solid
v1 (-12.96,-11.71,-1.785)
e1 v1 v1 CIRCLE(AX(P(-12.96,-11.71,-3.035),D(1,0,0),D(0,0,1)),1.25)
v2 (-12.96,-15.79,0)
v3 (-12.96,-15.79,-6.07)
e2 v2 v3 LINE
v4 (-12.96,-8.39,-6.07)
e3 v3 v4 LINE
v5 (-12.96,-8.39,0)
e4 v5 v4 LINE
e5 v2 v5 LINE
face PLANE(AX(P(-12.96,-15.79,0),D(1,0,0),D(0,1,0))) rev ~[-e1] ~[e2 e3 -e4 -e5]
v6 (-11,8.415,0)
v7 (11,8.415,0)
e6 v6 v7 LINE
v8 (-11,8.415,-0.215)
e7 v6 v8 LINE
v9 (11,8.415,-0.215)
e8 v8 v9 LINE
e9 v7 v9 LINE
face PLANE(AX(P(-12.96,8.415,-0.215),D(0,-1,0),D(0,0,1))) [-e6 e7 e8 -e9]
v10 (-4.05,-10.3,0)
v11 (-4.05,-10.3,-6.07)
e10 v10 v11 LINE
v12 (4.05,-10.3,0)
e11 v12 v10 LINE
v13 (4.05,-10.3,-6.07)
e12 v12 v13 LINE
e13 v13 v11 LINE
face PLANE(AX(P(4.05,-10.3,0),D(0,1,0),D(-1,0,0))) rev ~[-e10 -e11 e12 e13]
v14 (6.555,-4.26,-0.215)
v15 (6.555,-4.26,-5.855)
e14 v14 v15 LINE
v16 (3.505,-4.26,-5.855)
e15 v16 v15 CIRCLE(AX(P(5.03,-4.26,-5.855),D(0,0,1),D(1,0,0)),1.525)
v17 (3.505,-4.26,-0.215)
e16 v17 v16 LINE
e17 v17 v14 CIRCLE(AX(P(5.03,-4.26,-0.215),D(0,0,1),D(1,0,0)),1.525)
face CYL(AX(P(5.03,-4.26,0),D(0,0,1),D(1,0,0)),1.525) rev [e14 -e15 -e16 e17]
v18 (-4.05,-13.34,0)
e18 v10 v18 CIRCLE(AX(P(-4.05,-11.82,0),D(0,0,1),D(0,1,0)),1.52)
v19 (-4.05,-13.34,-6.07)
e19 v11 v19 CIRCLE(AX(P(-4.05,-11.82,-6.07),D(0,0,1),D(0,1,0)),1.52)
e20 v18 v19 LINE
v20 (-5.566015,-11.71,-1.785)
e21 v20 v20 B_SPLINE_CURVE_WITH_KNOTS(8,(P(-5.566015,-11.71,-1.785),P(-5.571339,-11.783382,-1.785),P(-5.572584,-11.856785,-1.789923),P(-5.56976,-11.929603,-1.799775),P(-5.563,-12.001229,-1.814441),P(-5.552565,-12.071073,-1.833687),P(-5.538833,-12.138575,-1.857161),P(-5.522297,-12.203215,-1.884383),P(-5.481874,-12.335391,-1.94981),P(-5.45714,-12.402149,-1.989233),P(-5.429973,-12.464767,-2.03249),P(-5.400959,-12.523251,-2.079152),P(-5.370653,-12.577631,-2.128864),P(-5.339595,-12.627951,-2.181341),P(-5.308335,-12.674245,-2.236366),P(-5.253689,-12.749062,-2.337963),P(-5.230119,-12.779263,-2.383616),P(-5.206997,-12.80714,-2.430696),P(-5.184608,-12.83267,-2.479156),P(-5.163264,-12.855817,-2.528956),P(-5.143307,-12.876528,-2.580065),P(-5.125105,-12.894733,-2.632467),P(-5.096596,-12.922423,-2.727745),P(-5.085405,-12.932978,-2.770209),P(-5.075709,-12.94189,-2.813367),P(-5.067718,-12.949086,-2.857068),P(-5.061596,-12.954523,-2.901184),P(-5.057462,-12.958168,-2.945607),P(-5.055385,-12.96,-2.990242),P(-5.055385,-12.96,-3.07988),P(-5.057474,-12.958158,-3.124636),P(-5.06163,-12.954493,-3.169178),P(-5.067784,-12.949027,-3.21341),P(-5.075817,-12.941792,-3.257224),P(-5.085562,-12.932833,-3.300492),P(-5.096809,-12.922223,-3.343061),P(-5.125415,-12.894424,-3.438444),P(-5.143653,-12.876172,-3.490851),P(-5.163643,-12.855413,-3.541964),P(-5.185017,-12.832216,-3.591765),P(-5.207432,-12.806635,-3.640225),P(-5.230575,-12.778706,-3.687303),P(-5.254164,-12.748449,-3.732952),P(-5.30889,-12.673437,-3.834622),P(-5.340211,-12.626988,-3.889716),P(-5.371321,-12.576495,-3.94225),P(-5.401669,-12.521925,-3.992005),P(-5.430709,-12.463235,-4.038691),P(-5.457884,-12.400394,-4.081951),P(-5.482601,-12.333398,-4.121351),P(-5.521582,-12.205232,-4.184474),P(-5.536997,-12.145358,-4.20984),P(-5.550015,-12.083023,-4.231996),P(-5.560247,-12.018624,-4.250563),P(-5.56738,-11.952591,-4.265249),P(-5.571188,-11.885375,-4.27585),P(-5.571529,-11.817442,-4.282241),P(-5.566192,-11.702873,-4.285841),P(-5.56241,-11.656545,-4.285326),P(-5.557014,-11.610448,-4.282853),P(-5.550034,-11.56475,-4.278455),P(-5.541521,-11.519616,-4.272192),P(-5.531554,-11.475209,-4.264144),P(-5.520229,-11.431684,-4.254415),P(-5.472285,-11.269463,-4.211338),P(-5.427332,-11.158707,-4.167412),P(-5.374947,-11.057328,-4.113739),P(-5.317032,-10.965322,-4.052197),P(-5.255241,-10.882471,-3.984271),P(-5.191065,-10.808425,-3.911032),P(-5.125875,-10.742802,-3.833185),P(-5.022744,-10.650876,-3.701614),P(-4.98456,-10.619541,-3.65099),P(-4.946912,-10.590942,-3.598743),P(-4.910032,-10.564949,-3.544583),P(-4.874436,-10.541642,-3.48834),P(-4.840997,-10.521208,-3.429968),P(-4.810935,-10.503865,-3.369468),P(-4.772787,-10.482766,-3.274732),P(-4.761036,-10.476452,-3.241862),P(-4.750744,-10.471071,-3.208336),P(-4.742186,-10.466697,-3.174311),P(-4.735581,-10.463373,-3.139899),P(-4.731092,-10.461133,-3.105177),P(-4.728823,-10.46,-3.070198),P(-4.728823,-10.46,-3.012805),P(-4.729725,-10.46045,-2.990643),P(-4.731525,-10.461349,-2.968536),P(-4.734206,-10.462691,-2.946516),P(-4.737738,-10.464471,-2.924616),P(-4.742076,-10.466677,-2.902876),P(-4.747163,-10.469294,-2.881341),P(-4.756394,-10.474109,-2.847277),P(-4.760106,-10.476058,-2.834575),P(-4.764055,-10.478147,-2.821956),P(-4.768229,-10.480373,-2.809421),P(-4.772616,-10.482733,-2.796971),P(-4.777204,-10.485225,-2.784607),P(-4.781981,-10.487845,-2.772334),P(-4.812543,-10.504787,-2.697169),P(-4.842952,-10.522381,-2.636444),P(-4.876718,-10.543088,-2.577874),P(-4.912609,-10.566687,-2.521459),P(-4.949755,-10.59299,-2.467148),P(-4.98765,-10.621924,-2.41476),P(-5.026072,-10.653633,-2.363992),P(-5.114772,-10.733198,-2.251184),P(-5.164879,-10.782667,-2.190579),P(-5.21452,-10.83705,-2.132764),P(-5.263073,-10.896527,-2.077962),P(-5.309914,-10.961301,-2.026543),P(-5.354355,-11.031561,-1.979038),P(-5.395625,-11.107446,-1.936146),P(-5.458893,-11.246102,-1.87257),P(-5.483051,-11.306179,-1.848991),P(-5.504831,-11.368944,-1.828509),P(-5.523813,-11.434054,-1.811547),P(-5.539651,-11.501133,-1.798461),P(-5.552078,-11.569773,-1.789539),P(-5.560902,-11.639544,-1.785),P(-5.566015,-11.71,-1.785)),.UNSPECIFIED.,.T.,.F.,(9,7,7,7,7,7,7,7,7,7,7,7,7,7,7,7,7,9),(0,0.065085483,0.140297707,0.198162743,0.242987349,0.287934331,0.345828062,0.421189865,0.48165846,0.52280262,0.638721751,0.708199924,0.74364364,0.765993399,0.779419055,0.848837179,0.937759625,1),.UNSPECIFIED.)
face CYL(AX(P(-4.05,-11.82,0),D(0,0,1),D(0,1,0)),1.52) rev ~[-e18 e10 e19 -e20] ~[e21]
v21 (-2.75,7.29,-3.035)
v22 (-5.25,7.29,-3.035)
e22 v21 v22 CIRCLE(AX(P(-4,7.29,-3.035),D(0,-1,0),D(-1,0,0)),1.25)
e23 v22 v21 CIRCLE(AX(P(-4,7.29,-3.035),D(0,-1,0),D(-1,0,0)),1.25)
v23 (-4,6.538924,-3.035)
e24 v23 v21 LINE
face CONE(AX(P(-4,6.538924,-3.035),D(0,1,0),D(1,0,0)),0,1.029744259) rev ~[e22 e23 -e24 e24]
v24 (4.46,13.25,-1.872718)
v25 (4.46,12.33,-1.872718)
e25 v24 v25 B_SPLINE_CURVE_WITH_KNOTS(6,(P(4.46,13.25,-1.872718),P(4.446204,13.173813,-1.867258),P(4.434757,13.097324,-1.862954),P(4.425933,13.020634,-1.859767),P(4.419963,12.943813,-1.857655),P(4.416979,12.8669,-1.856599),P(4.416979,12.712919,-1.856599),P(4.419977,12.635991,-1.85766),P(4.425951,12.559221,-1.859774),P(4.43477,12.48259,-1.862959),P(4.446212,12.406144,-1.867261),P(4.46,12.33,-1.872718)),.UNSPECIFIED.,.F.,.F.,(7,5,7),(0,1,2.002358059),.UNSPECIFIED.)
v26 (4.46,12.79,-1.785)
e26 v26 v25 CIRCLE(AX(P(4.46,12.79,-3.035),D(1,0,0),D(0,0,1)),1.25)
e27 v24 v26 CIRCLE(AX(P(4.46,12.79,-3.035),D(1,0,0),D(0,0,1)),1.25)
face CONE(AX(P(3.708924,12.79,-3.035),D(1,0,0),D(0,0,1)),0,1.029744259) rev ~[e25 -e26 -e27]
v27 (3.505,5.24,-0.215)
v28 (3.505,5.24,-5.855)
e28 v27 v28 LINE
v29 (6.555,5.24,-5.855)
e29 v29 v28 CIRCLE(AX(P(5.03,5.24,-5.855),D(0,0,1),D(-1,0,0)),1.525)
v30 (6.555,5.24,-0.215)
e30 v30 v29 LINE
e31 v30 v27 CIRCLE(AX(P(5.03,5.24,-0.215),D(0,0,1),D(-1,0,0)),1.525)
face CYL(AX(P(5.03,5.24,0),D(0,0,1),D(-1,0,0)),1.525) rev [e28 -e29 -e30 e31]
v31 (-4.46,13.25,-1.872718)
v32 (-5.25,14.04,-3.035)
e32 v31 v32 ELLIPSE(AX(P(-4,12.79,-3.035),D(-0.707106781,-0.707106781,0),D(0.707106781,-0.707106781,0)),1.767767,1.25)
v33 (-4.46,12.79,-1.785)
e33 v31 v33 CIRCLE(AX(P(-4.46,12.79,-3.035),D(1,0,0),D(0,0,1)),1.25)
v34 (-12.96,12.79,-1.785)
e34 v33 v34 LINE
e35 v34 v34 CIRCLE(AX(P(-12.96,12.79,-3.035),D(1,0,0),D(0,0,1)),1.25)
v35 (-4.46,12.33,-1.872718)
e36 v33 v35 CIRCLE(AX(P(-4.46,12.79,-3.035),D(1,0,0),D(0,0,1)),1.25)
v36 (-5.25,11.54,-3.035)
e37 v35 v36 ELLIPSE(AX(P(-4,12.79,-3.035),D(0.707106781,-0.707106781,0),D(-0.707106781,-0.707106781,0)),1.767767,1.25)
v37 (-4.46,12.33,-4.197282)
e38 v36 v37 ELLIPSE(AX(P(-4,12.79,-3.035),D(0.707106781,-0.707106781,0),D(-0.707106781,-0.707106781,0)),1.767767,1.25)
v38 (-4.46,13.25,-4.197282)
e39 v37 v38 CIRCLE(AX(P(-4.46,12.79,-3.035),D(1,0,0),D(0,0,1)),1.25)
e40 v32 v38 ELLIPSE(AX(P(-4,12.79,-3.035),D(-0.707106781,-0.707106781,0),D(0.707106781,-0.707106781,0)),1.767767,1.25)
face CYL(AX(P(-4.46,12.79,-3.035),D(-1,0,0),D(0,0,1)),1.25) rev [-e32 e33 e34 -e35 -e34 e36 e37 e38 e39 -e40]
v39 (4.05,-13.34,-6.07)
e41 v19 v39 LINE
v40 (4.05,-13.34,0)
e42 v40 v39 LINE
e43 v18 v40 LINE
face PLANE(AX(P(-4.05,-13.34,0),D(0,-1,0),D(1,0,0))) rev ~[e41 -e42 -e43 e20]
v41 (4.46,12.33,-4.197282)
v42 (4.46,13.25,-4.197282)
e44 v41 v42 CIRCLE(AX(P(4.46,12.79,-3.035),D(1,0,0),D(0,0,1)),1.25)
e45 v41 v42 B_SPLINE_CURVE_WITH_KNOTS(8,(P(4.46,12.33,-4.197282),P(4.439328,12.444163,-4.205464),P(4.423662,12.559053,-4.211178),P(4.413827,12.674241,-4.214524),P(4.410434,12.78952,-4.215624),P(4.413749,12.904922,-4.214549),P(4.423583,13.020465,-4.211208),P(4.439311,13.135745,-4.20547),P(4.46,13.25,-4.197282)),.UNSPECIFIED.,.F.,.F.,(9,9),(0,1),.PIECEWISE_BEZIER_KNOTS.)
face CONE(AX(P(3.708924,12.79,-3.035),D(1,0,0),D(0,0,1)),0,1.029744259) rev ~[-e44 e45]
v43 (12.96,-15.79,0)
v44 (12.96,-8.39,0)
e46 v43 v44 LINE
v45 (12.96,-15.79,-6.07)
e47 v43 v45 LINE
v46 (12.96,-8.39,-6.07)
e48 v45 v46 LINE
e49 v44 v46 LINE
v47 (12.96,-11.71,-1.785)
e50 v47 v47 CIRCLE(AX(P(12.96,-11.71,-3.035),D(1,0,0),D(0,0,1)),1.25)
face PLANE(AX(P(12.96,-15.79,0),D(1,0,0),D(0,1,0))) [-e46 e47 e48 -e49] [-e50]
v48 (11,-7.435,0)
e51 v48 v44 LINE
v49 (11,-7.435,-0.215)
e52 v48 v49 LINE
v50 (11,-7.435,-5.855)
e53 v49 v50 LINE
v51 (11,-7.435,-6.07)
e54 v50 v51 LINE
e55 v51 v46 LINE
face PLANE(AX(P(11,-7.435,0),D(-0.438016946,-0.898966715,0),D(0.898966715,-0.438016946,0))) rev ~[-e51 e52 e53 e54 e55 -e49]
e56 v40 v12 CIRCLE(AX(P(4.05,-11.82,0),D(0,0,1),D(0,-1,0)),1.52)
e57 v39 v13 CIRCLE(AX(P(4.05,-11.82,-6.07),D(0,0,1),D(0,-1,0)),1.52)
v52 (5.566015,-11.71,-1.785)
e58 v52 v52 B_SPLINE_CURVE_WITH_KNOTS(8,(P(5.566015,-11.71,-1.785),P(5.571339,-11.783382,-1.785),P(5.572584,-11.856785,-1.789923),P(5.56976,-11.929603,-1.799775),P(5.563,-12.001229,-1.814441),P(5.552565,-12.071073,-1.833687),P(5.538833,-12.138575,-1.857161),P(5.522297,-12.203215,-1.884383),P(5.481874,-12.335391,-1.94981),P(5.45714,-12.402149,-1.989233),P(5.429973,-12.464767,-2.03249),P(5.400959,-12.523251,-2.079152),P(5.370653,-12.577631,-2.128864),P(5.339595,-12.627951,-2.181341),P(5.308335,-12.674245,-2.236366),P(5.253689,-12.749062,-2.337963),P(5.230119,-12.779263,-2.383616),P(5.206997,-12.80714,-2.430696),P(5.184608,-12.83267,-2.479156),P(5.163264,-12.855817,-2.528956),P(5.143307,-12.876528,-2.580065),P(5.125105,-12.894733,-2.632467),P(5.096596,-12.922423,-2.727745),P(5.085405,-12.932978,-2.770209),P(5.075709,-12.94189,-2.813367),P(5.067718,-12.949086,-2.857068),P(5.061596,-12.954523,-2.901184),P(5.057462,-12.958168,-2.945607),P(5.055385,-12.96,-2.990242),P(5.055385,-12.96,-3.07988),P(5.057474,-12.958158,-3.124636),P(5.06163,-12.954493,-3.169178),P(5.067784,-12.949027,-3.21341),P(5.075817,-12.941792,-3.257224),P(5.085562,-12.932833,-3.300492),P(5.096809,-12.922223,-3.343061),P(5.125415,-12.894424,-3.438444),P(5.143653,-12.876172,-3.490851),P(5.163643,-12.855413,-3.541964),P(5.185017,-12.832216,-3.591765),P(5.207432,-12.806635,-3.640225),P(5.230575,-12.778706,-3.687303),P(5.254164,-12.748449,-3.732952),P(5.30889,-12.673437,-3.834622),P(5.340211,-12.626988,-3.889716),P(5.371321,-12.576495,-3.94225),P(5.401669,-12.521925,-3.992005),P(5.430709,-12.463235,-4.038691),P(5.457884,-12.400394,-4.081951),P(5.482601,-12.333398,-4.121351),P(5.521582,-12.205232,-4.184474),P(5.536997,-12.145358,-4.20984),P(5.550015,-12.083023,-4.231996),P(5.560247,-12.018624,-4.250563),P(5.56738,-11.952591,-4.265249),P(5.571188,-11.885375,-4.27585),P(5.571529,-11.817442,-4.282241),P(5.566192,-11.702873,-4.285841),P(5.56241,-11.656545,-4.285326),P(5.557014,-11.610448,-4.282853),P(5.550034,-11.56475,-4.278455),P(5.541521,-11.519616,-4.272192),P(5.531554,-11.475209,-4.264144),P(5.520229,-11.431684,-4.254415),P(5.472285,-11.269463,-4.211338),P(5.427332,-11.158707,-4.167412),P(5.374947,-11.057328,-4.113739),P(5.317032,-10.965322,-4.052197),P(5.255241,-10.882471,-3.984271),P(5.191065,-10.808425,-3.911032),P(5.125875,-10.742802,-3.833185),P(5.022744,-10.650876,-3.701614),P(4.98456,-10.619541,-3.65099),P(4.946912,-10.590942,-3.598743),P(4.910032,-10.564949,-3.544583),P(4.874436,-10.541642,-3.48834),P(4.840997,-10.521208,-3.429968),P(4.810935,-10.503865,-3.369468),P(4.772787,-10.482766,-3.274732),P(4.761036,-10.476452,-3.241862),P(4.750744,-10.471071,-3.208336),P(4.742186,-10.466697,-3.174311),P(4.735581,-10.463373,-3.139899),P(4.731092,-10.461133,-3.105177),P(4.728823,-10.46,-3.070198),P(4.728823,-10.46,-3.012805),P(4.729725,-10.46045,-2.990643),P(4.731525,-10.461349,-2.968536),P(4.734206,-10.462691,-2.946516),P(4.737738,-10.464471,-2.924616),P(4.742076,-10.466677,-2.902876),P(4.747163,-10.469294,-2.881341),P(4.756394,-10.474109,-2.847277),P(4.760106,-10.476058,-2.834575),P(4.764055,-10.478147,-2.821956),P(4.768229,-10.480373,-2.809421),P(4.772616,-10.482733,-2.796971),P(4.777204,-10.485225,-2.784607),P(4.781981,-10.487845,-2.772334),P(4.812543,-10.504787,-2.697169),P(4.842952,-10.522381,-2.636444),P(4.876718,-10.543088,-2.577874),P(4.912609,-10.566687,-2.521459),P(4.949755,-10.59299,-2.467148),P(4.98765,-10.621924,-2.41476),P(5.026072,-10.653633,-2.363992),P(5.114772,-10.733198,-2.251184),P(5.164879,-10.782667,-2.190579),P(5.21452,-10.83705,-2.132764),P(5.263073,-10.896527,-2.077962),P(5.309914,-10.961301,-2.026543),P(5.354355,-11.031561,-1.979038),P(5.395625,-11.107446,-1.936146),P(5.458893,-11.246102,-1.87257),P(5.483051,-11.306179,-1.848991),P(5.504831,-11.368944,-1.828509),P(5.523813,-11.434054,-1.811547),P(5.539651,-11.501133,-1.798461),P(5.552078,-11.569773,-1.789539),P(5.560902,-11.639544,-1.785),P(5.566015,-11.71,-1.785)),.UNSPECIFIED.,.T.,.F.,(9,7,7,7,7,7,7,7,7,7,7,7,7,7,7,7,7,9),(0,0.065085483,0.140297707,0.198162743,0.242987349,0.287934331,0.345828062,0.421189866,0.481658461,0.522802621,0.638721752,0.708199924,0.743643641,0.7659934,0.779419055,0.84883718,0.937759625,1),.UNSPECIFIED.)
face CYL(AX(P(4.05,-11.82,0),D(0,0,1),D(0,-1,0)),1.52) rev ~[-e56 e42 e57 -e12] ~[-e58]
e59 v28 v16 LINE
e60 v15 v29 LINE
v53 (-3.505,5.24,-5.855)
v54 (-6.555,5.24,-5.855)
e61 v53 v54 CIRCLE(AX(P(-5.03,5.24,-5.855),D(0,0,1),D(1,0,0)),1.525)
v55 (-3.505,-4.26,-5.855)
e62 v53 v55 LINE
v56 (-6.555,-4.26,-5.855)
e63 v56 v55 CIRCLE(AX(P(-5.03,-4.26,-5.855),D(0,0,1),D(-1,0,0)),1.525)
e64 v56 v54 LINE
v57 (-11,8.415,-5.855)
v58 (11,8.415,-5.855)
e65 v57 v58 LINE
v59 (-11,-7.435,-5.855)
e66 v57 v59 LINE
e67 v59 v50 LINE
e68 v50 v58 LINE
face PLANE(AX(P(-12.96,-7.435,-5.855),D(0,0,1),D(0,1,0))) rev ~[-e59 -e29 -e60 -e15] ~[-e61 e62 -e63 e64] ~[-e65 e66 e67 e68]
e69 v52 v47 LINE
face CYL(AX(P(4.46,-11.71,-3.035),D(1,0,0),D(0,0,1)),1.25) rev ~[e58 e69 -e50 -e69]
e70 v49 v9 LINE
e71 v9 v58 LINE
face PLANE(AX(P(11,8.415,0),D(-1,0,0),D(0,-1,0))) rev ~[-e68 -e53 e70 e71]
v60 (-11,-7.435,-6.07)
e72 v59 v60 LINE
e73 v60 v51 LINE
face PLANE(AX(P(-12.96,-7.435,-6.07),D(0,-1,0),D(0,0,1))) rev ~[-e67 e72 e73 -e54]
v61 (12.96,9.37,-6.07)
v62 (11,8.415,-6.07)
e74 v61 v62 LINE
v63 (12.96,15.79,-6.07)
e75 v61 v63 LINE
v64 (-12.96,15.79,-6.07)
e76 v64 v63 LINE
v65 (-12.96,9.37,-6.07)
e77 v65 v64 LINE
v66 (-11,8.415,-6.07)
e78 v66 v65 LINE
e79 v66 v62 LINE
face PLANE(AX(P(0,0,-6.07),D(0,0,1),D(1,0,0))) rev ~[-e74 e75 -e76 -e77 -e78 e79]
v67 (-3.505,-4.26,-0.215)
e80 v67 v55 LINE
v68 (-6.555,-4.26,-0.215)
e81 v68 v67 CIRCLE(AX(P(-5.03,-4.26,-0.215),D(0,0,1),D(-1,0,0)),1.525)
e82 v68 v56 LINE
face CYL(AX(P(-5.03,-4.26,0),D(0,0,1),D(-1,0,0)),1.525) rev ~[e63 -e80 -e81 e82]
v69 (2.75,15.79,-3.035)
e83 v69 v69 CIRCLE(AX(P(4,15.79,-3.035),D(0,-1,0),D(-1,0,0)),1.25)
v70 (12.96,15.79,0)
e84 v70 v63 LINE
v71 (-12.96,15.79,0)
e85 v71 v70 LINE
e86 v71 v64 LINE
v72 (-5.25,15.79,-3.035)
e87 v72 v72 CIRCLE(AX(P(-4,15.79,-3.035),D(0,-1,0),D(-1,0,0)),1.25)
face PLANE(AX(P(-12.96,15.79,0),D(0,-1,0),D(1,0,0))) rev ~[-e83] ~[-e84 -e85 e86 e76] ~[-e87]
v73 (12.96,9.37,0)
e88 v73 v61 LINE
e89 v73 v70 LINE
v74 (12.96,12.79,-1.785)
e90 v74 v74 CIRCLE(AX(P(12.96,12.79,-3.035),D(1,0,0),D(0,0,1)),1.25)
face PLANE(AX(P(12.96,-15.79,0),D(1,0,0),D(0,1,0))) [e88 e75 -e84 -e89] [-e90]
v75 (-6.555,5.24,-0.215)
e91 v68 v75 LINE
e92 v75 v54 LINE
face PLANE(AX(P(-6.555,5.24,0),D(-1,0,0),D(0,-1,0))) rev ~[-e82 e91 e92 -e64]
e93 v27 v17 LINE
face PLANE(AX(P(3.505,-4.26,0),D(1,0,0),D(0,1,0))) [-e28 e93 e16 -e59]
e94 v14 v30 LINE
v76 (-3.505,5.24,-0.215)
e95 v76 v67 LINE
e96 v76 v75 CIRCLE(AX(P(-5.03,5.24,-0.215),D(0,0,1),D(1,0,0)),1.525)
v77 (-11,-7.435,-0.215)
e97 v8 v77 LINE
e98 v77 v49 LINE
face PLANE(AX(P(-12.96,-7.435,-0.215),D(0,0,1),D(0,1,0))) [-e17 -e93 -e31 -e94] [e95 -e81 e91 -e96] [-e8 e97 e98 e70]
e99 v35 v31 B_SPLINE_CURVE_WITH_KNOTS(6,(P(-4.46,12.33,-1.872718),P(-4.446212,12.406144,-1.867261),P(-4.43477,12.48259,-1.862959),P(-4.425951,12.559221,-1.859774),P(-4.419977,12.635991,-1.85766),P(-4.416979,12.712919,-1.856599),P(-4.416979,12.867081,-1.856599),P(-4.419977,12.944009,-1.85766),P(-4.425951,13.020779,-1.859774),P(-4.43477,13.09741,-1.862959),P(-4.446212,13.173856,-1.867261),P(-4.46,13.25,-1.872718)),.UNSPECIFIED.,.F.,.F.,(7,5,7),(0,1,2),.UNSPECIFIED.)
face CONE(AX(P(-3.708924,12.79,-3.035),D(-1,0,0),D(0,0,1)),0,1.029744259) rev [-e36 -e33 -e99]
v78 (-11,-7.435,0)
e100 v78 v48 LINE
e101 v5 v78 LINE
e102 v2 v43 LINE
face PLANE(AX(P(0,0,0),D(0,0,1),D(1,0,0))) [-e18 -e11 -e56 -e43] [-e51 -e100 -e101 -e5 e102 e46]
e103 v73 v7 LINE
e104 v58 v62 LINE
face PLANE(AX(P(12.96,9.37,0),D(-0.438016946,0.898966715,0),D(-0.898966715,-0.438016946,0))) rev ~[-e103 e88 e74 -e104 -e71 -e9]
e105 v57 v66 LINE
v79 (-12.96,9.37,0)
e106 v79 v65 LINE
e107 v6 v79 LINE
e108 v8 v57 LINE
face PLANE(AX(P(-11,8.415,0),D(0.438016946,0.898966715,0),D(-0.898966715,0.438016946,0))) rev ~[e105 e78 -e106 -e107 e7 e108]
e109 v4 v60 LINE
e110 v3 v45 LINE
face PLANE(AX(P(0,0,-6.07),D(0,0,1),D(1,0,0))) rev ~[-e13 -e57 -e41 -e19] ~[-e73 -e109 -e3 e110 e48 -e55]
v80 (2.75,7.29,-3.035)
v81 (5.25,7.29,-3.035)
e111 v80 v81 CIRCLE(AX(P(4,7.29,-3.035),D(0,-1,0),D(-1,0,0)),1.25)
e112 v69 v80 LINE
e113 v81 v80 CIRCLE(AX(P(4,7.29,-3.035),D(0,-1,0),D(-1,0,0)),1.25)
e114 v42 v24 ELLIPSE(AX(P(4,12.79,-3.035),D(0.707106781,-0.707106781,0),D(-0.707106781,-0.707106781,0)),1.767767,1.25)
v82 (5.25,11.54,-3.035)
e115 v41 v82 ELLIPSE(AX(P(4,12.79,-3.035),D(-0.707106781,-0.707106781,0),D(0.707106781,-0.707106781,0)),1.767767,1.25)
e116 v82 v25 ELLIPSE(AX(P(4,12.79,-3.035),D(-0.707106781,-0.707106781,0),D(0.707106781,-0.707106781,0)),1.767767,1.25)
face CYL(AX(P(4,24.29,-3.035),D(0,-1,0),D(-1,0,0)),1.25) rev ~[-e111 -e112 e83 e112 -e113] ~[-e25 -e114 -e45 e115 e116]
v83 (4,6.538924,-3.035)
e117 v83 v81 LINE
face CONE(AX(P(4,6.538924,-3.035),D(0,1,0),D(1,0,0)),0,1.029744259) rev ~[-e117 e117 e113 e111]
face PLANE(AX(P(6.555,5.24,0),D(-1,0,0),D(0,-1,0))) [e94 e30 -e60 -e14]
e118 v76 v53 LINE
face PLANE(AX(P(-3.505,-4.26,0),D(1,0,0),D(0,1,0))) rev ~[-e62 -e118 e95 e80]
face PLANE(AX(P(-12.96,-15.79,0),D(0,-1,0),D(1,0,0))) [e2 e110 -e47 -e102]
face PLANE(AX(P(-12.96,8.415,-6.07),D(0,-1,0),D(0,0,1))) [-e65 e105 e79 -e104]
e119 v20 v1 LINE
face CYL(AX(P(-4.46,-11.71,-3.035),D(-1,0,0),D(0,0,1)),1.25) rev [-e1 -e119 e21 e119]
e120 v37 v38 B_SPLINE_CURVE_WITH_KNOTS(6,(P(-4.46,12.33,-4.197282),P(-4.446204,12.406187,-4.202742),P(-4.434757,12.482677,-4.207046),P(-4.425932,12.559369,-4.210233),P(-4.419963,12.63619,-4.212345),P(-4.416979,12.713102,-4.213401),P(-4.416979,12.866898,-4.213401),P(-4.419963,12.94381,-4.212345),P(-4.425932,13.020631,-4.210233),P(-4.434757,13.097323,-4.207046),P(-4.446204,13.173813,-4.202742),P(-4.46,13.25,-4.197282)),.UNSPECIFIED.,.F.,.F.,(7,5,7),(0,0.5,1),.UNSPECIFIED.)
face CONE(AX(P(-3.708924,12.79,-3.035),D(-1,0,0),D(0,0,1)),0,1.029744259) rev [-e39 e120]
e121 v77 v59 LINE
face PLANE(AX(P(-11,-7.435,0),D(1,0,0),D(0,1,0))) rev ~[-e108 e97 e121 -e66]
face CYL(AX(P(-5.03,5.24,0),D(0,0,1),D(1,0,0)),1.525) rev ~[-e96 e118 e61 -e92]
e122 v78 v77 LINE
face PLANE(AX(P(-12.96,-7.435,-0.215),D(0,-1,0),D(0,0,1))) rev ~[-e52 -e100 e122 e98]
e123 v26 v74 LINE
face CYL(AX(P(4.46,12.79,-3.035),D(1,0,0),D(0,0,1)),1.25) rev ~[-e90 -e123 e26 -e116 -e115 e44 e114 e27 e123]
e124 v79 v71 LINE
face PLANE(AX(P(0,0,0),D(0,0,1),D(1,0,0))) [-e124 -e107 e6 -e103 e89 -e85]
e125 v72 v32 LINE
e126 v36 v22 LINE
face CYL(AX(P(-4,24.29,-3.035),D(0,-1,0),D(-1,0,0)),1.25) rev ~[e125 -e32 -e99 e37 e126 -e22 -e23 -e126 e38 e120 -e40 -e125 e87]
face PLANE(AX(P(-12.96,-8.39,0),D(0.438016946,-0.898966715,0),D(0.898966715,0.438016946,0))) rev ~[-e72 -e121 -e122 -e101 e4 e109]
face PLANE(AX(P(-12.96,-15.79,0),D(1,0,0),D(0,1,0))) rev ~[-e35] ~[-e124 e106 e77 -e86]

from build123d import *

# Parameters (mm, degrees)
SCHIZZO1_W                         = 25.92
SCHIZZO1_H                         = 31.58
ESTRUSIONE_ESTRUSIONE1_DEPTH       = 6.07
TAGLIO_ESTRUSIONE1_DEPTH           = 22.310340213
SCHIZZO3_W                         = 0.215
SCHIZZO3_H                         = 15.85
TAGLIO_ESTRUSIONE2_DEPTH           = 31.951823856
FORO_FILETTATO_M3X0_5_1_D          = 2.5
FORO_FILETTATO_M3X0_5_1_DEPTH      = 8.5
FORO_FILETTATO_M3X0_5_1_TIP        = 0.751075774
FORO_FILETTATO_M3X0_5_3_AT_2_COUNT = 2
FORO_FILETTATO_M3X0_5_3_AT_2_PITCH = 24.5


with BuildPart() as part:
    # Schizzo1 → Estrusione-Estrusione1 (new body)
    with BuildSketch(Plane.XY):
        Rectangle(SCHIZZO1_W, SCHIZZO1_H)
    extrude(amount=-ESTRUSIONE_ESTRUSIONE1_DEPTH)

    # Schizzo2 → Taglio-Estrusione1 (cut, through all)
    with BuildSketch(Plane.XY):
        Polygon((-11, 8.415), (-12.96, 9.37), (-12.96, -8.39), (-11, -7.435), align=None)
        with BuildLine():
            Line((-6.555, 5.24), (-6.555, -4.26))
            ThreePointArc((-6.555, -4.26), (-5.03, -5.785), (-3.505, -4.26))
            Line((-3.505, -4.26), (-3.505, 5.24))
            ThreePointArc((-3.505, 5.24), (-5.03, 6.765), (-6.555, 5.24))
        make_face()
        with BuildLine():
            ThreePointArc((6.555, -4.26), (5.03, -5.785), (3.505, -4.26))
            Line((3.505, -4.26), (3.505, 5.24))
            ThreePointArc((3.505, 5.24), (5.03, 6.765), (6.555, 5.24))
            Line((6.555, 5.24), (6.555, -4.26))
        make_face()
        Polygon((12.96, -8.39), (12.96, 9.37), (11, 8.415), (11, -7.435), align=None)
        with BuildLine():
            Line((-4.05, -13.34), (4.05, -13.34))
            ThreePointArc((4.05, -13.34), (5.57, -11.82), (4.05, -10.3))
            Line((4.05, -10.3), (-4.05, -10.3))
            ThreePointArc((-4.05, -10.3), (-5.57, -11.82), (-4.05, -13.34))
        make_face()
    extrude(amount=-TAGLIO_ESTRUSIONE1_DEPTH, mode=Mode.SUBTRACT)

    # Schizzo3 → Taglio-Estrusione2 (cut, through all)
    with BuildSketch(Plane.ZY.offset(12.96)):
        with Locations((-5.9625, 0.49)):
            Rectangle(SCHIZZO3_W, SCHIZZO3_H)
        with Locations((-0.1075, 0.49)):
            Rectangle(SCHIZZO3_W, SCHIZZO3_H)
    extrude(amount=-TAGLIO_ESTRUSIONE2_DEPTH, mode=Mode.SUBTRACT)

    # Foro filettato M3x0.5-1
    with Locations(Plane(origin=(0, 15.79, 0), x_dir=(1, 0, 0), z_dir=(0, 1, 0))):
        with Locations((-4, 3.035), (4, 3.035)):
            Hole(FORO_FILETTATO_M3X0_5_1_D / 2, depth=FORO_FILETTATO_M3X0_5_1_DEPTH)
            with Locations((0, 0, -(FORO_FILETTATO_M3X0_5_1_DEPTH + FORO_FILETTATO_M3X0_5_1_TIP / 2))):  # 118° drill point
                Cone(0, FORO_FILETTATO_M3X0_5_1_D / 2, FORO_FILETTATO_M3X0_5_1_TIP, mode=Mode.SUBTRACT)

    # Schizzo8 → Foro filettato M3x0.5-3 (revolve, cut)
    with BuildSketch(Plane(origin=(-12.96, 12.79, -3.035), x_dir=(0, 0, 1), z_dir=(0, 1, 0))):
        Polygon((0, 0), (0, 9.251075774), (1.25, 8.5), (1.25, 0), align=None)
    foro_filettato_m3x0_5_3 = revolve(axis=Axis((-19.31, 12.79, -3.035), (1, 0, 0)), mode=Mode.SUBTRACT)

    # Foro filettato M3x0.5-3 at 2: Foro filettato M3x0.5-3 ×2
    with Locations(*[(0, -i * FORO_FILETTATO_M3X0_5_3_AT_2_PITCH, 0) for i in range(1, FORO_FILETTATO_M3X0_5_3_AT_2_COUNT)]):
        add(foro_filettato_m3x0_5_3, mode=Mode.SUBTRACT)

    # Specchia1: Foro filettato M3x0.5-3 across plane
    add(foro_filettato_m3x0_5_3.mirror(Plane(origin=(0, 0, 0), x_dir=(0, 0, 1), z_dir=(1, 0, 0))), mode=Mode.SUBTRACT)

    # Specchia1 copy 1 sketch → Specchia1 copy 1 (revolve, cut)
    with BuildSketch(Plane(origin=(12.96, -11.71, -3.035), x_dir=(0, 0, 1), z_dir=(0, 1, 0))):
        Polygon((0, 0), (0, -9.251075774), (1.25, -8.5), (1.25, 0), align=None)
    revolve(axis=Axis((19.31, -11.71, -3.035), (1, 0, 0)), mode=Mode.SUBTRACT)


solid = part.part
